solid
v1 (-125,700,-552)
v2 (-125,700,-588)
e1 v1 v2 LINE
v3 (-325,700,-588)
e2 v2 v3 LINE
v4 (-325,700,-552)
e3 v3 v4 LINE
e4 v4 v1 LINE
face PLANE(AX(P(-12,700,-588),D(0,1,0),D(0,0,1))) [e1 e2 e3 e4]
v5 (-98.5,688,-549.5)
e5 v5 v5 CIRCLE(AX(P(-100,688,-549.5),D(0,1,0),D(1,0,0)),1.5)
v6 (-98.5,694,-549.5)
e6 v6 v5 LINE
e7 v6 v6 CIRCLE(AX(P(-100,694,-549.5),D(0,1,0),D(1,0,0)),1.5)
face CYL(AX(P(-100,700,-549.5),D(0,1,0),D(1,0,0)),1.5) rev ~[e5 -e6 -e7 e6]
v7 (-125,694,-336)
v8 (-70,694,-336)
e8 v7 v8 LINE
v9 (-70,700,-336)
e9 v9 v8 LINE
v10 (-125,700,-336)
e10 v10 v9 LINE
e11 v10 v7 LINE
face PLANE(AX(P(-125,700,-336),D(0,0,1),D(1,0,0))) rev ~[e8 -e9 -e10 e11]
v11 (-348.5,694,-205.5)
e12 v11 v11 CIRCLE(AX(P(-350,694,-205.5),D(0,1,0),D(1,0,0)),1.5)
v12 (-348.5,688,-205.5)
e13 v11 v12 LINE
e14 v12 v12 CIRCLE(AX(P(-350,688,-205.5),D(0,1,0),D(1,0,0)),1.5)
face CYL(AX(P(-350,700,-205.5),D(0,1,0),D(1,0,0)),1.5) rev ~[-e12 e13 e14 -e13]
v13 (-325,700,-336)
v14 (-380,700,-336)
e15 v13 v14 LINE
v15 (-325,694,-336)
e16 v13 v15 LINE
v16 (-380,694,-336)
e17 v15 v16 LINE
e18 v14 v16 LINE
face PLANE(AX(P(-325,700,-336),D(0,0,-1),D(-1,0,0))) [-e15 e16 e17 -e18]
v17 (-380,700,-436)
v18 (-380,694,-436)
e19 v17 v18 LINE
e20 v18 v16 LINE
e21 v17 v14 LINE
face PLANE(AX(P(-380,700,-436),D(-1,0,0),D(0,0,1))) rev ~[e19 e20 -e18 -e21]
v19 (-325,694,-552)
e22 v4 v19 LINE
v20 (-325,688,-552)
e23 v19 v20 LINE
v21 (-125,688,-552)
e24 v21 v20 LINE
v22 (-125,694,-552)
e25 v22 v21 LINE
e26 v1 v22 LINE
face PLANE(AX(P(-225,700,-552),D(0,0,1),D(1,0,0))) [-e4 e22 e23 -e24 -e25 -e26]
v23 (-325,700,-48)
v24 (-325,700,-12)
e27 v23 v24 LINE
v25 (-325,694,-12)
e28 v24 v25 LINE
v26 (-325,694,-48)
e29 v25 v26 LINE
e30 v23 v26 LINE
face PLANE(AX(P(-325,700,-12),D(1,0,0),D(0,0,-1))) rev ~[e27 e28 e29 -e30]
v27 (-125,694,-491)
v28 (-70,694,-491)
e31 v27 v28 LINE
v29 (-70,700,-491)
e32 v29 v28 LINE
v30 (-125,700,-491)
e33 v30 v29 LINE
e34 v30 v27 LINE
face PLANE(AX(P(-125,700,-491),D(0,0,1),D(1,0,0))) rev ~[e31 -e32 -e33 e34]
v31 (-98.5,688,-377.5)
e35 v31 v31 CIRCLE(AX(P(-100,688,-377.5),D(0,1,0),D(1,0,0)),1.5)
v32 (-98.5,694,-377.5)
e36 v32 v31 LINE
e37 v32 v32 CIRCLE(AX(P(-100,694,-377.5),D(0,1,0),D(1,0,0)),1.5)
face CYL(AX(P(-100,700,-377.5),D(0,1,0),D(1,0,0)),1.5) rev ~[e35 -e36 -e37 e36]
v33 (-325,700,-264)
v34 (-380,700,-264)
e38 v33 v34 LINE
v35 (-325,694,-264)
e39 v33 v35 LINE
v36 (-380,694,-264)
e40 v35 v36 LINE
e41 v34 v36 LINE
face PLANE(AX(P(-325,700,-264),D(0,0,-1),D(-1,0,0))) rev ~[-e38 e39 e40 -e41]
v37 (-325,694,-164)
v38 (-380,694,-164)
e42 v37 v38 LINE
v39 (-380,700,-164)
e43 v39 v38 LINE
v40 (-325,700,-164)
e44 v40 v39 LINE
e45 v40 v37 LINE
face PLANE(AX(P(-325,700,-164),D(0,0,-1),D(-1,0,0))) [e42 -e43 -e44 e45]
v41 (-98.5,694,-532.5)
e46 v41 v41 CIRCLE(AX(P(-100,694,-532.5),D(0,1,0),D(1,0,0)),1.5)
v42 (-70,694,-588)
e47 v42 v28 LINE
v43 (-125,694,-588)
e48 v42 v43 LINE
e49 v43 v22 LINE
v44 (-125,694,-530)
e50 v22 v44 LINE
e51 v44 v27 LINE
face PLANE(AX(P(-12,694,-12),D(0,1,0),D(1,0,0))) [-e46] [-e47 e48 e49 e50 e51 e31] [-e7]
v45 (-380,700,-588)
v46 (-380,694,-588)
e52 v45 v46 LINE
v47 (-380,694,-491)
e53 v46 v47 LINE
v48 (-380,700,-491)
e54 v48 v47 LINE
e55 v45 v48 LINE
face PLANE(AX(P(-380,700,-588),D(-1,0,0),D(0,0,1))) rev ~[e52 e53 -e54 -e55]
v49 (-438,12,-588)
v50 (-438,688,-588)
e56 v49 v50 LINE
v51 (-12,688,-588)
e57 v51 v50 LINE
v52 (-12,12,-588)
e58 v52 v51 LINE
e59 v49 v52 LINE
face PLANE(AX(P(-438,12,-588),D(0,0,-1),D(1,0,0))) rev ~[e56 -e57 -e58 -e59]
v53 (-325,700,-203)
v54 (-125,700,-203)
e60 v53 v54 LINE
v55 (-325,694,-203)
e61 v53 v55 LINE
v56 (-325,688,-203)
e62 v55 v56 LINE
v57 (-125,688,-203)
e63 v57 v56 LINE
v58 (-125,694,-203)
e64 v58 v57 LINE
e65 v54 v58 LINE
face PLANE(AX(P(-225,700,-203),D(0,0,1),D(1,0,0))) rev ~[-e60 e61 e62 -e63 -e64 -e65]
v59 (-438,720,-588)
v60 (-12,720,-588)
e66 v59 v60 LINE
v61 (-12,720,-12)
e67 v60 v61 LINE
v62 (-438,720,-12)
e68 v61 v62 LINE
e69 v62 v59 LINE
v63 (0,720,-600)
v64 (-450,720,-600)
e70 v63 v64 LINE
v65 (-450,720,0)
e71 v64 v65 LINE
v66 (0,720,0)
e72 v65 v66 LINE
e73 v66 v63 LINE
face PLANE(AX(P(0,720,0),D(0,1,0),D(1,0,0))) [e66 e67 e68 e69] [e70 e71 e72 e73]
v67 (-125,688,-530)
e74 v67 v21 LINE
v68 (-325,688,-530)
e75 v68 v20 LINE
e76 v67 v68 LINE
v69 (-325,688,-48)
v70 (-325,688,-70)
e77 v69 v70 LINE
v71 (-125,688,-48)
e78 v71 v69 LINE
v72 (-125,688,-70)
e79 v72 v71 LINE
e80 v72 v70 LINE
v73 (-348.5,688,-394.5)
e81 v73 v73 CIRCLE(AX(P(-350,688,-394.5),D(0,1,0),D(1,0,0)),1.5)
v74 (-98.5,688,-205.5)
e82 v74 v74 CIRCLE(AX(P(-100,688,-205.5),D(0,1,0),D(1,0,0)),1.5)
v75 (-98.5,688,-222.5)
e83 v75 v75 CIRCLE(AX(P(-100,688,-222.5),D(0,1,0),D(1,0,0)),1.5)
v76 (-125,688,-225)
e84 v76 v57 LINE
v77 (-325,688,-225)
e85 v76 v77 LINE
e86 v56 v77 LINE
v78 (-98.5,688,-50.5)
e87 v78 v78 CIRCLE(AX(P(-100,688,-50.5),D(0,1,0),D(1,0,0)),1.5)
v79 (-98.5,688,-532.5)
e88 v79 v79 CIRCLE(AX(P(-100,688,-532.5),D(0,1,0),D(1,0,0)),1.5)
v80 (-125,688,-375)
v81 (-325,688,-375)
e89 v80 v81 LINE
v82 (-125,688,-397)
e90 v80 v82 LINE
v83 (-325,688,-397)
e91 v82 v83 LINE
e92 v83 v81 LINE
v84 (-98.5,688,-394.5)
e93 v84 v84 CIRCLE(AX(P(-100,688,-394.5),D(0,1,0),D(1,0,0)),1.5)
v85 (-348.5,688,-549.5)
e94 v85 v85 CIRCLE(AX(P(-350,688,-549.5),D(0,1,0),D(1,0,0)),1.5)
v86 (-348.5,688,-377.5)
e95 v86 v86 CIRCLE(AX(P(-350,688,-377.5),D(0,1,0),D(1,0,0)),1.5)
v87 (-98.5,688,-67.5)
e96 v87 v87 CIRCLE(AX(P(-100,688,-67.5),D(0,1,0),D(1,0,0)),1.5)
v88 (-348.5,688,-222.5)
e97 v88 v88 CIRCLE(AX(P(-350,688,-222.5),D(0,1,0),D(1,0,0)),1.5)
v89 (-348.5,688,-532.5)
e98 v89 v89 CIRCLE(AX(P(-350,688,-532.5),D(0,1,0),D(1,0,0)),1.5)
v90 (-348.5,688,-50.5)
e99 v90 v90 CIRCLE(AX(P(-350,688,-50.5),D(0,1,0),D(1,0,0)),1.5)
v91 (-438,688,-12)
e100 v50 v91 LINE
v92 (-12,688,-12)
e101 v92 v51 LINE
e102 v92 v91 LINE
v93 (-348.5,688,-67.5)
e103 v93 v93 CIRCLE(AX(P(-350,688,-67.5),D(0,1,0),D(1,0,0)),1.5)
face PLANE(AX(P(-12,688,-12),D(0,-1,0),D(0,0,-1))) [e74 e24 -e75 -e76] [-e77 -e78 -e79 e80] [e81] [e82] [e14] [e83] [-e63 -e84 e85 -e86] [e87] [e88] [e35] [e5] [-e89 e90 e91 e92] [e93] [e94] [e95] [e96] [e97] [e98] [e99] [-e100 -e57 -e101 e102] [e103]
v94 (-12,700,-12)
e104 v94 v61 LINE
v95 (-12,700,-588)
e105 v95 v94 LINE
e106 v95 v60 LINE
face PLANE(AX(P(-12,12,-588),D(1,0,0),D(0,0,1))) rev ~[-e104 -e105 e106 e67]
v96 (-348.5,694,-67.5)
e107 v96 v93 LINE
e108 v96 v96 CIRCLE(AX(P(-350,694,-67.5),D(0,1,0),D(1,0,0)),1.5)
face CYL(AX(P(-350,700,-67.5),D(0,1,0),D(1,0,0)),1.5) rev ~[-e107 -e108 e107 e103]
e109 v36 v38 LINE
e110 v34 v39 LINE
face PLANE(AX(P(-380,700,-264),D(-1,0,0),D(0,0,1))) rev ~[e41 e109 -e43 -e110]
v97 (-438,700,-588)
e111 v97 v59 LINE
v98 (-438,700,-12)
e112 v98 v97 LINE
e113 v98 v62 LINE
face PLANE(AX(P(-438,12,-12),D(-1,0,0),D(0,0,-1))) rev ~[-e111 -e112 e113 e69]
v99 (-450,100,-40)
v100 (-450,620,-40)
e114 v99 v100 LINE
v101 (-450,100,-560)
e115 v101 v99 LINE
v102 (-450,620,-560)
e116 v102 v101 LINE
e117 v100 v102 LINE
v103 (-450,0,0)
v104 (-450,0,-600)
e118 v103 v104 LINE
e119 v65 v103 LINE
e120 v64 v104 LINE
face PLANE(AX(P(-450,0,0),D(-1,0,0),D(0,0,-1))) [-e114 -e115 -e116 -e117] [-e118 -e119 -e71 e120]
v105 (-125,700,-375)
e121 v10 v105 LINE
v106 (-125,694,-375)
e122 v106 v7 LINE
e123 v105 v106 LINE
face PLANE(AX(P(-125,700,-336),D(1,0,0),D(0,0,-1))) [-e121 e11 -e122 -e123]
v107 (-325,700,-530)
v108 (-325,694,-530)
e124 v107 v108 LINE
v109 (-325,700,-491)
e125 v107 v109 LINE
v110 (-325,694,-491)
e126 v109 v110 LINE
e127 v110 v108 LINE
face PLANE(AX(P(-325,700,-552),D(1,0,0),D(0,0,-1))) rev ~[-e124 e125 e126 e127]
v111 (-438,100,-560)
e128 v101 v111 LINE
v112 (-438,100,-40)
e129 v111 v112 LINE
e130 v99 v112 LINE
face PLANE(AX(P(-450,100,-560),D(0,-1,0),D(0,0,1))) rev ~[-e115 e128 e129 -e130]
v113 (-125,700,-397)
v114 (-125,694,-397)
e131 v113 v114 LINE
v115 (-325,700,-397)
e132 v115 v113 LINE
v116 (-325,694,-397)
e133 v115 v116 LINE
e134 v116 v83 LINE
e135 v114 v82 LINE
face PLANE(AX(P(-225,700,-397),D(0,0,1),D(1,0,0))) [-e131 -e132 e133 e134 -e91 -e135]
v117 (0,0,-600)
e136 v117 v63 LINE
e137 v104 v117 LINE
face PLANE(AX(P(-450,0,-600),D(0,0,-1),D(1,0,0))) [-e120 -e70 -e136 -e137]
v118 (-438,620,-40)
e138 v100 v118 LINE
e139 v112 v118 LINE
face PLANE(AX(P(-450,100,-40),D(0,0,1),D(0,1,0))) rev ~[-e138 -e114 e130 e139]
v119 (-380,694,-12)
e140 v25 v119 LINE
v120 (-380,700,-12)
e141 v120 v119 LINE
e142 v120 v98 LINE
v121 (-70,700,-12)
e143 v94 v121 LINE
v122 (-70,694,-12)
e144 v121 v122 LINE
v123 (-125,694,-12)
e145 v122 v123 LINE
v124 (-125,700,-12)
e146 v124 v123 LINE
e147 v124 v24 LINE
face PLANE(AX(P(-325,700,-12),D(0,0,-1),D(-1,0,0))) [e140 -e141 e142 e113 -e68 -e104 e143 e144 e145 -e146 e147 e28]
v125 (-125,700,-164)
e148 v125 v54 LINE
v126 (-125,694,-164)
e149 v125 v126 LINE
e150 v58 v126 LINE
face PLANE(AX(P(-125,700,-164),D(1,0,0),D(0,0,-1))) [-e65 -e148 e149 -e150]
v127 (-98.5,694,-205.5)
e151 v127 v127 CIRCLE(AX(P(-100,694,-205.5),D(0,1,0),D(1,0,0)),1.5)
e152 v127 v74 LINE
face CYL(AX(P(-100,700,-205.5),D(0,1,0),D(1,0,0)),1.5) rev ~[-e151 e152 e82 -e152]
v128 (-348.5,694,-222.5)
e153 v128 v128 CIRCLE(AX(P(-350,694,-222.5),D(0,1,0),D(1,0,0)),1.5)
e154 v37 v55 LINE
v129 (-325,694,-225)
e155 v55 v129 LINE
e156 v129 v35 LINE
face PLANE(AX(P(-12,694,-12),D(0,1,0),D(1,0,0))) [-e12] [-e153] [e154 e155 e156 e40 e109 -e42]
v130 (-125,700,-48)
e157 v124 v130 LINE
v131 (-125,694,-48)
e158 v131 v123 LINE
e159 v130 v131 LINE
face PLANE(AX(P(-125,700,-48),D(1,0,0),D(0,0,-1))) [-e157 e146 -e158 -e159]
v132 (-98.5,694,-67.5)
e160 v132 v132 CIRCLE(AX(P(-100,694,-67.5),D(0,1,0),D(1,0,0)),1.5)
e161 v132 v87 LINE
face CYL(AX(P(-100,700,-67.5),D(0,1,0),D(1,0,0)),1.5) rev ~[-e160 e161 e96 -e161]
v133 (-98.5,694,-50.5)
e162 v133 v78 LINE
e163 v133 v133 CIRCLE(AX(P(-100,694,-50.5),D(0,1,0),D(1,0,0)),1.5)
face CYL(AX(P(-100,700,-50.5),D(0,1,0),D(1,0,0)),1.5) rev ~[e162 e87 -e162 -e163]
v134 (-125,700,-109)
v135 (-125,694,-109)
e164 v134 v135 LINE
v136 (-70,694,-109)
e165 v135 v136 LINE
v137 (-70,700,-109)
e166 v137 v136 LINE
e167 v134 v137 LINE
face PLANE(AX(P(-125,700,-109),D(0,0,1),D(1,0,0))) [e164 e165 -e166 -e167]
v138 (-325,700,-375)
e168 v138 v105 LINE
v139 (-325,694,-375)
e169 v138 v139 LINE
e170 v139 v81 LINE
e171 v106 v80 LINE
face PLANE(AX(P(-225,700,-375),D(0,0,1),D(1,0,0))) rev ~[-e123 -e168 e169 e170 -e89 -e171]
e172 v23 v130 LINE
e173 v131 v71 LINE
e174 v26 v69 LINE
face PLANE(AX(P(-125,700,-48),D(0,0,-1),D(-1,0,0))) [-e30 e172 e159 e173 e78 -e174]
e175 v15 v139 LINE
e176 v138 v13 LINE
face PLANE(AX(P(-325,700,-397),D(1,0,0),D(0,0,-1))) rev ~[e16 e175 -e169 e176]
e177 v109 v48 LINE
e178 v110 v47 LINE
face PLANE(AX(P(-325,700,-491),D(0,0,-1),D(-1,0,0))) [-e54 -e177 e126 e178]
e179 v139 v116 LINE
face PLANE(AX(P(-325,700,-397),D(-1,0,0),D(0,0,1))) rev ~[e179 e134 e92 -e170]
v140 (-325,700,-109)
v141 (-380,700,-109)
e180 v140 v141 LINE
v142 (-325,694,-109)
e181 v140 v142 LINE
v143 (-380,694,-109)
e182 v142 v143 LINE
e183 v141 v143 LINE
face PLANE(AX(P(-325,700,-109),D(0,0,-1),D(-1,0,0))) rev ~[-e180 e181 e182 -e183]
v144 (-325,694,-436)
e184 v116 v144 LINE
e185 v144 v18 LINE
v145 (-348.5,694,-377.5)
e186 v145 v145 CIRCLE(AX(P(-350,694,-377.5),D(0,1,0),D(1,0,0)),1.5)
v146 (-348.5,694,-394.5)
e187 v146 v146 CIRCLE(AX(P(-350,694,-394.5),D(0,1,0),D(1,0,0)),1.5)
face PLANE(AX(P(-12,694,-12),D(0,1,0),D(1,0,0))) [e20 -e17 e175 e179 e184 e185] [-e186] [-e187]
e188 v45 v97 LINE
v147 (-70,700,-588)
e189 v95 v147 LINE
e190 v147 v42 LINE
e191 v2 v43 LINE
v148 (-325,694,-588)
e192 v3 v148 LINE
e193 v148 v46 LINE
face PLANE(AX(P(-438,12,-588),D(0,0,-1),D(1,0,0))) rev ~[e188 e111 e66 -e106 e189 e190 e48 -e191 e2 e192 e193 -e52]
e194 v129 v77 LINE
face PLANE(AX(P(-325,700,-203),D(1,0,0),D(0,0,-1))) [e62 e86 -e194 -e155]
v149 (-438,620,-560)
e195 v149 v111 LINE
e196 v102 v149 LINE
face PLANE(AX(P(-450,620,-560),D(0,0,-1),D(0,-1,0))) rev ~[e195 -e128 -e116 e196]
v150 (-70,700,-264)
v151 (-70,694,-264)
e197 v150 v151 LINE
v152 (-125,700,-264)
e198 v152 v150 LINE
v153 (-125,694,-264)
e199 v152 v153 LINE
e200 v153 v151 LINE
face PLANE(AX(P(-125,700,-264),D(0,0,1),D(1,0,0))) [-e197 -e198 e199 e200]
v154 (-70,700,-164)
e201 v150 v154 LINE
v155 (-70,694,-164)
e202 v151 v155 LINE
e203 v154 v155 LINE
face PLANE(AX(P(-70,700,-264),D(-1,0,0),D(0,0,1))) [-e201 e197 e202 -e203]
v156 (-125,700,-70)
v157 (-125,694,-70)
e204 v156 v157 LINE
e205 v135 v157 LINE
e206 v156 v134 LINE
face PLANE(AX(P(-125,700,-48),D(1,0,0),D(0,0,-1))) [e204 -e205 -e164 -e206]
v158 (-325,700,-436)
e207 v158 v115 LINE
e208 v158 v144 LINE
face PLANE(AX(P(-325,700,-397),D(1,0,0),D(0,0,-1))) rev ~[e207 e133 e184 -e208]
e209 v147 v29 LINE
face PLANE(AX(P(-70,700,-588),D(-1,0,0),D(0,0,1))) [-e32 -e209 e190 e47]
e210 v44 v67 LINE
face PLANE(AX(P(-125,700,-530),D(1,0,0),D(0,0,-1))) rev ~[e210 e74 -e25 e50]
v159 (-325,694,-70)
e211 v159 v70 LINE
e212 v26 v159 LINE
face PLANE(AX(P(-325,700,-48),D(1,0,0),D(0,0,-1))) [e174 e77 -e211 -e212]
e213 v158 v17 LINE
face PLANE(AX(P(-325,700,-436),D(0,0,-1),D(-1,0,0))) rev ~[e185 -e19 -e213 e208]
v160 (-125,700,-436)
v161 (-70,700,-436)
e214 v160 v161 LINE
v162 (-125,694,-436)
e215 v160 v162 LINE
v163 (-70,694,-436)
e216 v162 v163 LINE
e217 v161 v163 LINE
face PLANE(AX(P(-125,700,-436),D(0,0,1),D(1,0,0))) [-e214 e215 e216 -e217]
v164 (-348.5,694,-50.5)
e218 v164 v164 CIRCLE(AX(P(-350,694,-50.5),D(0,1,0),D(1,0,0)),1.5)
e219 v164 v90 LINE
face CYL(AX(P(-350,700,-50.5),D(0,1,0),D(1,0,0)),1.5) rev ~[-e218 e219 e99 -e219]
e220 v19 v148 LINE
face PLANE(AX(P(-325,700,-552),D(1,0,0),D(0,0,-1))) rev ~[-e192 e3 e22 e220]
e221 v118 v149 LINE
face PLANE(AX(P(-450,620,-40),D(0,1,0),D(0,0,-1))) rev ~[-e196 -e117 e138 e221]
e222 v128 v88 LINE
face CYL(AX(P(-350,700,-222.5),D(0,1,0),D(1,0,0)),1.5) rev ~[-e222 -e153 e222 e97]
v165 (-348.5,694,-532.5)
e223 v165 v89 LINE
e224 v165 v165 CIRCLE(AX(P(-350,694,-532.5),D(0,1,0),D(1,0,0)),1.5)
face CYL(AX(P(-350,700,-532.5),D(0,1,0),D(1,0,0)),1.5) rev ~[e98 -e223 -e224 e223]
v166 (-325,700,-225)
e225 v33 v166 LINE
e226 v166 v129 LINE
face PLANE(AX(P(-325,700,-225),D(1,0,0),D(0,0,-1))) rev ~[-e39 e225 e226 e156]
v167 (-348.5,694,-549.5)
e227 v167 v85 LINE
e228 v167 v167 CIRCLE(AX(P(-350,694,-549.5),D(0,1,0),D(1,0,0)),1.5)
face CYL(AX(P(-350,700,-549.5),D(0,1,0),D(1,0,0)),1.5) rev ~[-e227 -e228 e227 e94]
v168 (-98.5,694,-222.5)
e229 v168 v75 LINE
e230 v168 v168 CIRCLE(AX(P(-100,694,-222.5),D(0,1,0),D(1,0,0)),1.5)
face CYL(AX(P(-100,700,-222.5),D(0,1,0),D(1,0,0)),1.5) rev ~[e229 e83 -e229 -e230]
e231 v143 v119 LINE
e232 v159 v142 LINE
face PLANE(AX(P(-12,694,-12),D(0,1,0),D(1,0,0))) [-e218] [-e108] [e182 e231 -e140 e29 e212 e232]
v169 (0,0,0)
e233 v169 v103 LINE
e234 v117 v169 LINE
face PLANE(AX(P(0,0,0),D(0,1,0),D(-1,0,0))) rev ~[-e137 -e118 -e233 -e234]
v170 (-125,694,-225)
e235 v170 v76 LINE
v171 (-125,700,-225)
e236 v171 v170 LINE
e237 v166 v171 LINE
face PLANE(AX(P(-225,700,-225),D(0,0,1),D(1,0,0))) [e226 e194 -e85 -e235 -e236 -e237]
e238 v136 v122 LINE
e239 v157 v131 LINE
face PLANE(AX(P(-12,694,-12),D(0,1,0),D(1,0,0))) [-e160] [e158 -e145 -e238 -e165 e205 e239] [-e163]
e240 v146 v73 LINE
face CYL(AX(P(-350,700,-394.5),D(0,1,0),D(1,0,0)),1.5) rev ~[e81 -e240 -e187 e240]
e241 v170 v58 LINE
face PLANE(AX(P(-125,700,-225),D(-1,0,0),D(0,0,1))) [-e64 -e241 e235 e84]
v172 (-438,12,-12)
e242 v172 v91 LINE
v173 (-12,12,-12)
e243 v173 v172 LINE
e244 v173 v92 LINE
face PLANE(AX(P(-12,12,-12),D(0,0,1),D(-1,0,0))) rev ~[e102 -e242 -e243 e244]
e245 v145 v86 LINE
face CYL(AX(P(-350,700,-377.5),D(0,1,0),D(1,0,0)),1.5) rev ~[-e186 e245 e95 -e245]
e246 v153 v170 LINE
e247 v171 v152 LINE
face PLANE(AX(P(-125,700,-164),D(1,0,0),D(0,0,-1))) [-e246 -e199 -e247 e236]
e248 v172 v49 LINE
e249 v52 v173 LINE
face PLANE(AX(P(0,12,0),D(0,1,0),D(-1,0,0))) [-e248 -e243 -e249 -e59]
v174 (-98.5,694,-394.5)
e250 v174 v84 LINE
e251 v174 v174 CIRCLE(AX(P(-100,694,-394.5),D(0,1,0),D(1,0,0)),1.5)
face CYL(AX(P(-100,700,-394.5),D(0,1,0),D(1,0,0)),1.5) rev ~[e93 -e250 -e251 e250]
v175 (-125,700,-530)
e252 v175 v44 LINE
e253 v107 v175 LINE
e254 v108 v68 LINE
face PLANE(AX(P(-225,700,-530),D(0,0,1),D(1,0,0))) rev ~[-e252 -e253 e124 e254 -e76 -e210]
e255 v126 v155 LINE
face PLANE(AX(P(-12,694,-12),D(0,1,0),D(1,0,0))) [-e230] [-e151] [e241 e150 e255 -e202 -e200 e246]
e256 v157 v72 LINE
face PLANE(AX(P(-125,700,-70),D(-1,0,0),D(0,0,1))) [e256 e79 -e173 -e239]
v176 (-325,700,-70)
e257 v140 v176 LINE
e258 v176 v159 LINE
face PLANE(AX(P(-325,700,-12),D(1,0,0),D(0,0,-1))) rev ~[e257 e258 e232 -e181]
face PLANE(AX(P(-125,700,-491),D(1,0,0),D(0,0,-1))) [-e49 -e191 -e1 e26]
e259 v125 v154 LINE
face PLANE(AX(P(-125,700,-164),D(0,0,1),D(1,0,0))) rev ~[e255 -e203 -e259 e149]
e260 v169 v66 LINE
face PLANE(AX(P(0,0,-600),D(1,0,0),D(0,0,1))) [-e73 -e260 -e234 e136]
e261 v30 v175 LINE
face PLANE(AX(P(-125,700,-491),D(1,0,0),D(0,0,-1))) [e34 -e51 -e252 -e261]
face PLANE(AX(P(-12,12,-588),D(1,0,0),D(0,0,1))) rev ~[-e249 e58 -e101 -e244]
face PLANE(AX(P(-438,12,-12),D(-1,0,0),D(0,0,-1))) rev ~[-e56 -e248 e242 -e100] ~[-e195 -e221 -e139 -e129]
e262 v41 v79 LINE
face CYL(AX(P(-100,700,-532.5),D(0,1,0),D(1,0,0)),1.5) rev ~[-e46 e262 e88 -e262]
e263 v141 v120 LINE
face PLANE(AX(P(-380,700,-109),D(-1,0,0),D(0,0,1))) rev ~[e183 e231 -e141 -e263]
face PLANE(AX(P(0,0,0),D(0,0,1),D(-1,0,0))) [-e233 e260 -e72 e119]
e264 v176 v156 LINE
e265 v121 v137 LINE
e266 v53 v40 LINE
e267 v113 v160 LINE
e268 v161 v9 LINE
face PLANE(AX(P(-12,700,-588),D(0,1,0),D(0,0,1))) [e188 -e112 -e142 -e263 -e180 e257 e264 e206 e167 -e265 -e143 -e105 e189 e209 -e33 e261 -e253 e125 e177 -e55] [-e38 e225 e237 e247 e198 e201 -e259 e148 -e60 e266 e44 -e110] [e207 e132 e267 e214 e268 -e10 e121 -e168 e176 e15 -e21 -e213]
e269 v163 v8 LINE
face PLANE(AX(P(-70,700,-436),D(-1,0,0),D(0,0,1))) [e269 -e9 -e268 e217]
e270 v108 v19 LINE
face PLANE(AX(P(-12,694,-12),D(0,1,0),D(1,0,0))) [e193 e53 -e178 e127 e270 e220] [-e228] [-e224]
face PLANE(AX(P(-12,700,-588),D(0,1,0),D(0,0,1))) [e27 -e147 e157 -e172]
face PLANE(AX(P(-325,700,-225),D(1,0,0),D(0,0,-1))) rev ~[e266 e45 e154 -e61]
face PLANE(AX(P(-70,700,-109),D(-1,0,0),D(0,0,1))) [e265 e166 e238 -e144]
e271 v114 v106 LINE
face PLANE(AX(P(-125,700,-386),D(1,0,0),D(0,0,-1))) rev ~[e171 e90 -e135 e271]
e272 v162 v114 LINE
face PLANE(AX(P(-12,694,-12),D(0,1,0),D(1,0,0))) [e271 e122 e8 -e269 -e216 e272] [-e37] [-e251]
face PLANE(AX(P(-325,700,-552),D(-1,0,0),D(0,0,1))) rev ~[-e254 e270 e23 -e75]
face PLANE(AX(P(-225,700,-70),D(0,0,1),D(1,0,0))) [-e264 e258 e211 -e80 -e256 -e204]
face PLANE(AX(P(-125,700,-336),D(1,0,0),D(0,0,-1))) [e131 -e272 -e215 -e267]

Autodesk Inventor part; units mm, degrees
ref_plane "YZ Plane" through (0, 0, 0) normal (1, 0, 0) x (0, 1, 0)
ref_plane "XZ Plane" through (0, 0, 0) normal (0, 1, 0) x (-1, 0, 0)
ref_plane "XY Plane" through (0, 0, 0) normal (0, 0, 1) x (1, 0, 0)
sketch "Sketch1" plane through (0, 0, 0) normal (0, 1, 0) x (-1, 0, 0)
  line L0 (0, 0) -> (450, 0)
  line L1 (450, 0) -> (450, -600)
  line L2 (450, -600) -> (0, -600)
  line L3 (0, -600) -> (0, 0)
  dimension "d0" = 450
  dimension "d1" = 600
extrude "Extrusion1" add sketch "Sketch1" along normal blind 12
sketch "Sketch2" plane through (0, 12, 0) normal (0, 1, 0) x (1, 0, 0)
  line L0 (0, 0) -> (0, 600) projected
  line L1 (-450, 600) -> (-450, 0) projected
  line L2 (0, 600) -> (-450, 600)
  line L3 (-450, 600) -> (-450, 0)
  line L4 (-450, 0) -> (0, 0)
  line L5 (0, 0) -> (0, 600)
  line L6 (-438, 588) -> (-12, 588)
  line L7 (-12, 588) -> (-12, 12)
  line L8 (-12, 12) -> (-438, 12)
  line L9 (-438, 12) -> (-438, 588)
  dimension "d4" = 12
extrude "Extrusion2" add sketch "Sketch2" along normal blind 708
sketch "Sketch3" plane through (-450, 0, -600) normal (-1, 0, 0) x (0, 0, 1)
  line L0 (0, 0) -> (40, 0)
  line L1 (40, 0) -> (40, 100)
  line L2 (40, 100) -> (0, 100)
  line L3 (0, 100) -> (0, 0)
  line L4 (600, 0) -> (560, 0)
  line L5 (560, 0) -> (560, 100)
  line L6 (560, 100) -> (600, 100)
  line L7 (600, 100) -> (600, 0)
  line L8 (600, 720) -> (560, 720)
  line L9 (560, 720) -> (560, 620)
  line L10 (560, 620) -> (600, 620)
  line L11 (600, 620) -> (600, 720)
  line L12 (40, 100) -> (560, 100)
  line L13 (560, 100) -> (560, 620)
  line L14 (560, 620) -> (40, 620)
  line L15 (40, 620) -> (40, 100)
  dimension "d7" = 40
  dimension "d8" = 100
  dimension "d9" = 40
  dimension "d10" = 100
  dimension "d11" = 40
  dimension "d12" = 100
extrude "Extrusion3" cut sketch "Sketch3" against normal blind 12 contours L15 L14 L13 L12
sketch "Sketch4" plane through (-12, 12, -588) normal (-1, 0, 0) x (0, 0, 1)
  point P0 (588, -12)
sketch "Sketch5" plane through (-12, 12, -588) normal (-1, 0, 0) x (0, 0, 1)
  line L0 (0, 0) -> (0, 708) projected
  line L1 (0, 708) -> (0, 688)
  line L2 (576, 0) -> (576, 708) projected
  line L3 (0, 688) -> (576, 688)
  line L4 (576, 688) -> (576, 676)
  line L5 (576, 676) -> (0, 676)
  line L6 (0, 676) -> (0, 688)
  point P0 (588, -12)
  dimension "d15" = 20
  dimension "d16" = 12
extrude "Extrusion4" add sketch "Sketch5" along normal up to surface (438 mm away)
sketch "Sketch6" plane through (-12, 700, -12) normal (0, 1, 0) x (1, 0, 0)
  line L0 (-426, 576) -> (0, 576) projected
  line L1 (-213, 576) -> (-213, 0)
  line L2 (0, 0) -> (-426, 0) projected
  line L3 (-213, 576) -> (-213, 504)
  line L4 (-213, 504) -> (-213, 515)
  line L5 (-213, 515) -> (-113, 515)
  line L6 (-213, 540) -> (-113, 540)
  line L7 (-113, 540) -> (-313, 540)
  line L8 (-313, 540) -> (-313, 518)
  line L9 (-313, 518) -> (-113, 518)
  line L10 (-113, 518) -> (-113, 540)
  line L11 (-213, 529) -> (-338, 529)
  line L12 (-338, 529) -> (-338, 537.5)
  circle A0 centre (-338, 537.5) radius 1.5
  line L13 (-338, 537.5) -> (-338, 520.5)
  circle A1 centre (-338, 520.5) radius 1.5
  circle A2 centre (-88, 537.5) radius 1.5
  circle A3 centre (-88, 520.5) radius 1.5
  line L14 (-213, 518) -> (-213, 374)
  line L15 (-213, 374) -> (-213, 385)
  line L16 (-213, 385) -> (-113, 385)
  line L17 (-113, 385) -> (-313, 385)
  line L18 (-313, 385) -> (-313, 363)
  line L19 (-313, 363) -> (-113, 363)
  line L20 (-113, 363) -> (-113, 385)
  line L21 (-88, 537.5) -> (-88, 520.5)
  line L22 (-113, 374) -> (-88, 374)
  line L23 (-88, 374) -> (-88, 382.5)
  line L24 (-88, 382.5) -> (-88, 365.5)
  circle A4 centre (-88, 382.5) radius 1.5
  circle A5 centre (-88, 365.5) radius 1.5
  circle A6 centre (-338, 382.5) radius 1.5
  circle A7 centre (-338, 365.5) radius 1.5
  line L25 (-213, 288) -> (-149.1067, 288)
  line L26 (-113, 36) -> (-313, 36)
  line L27 (-313, 36) -> (-313, 58)
  line L28 (-313, 58) -> (-113, 58)
  line L29 (-113, 58) -> (-113, 36)
  circle A8 centre (-338, 38.5) radius 1.5
  circle A9 centre (-338, 55.5) radius 1.5
  circle A10 centre (-88, 38.5) radius 1.5
  circle A11 centre (-88, 55.5) radius 1.5
  line L30 (-213, 191) -> (-113, 191)
  line L31 (-113, 191) -> (-313, 191)
  line L32 (-313, 191) -> (-313, 213)
  line L33 (-313, 213) -> (-113, 213)
  line L34 (-113, 213) -> (-113, 191)
  circle A12 centre (-88, 193.5) radius 1.5
  circle A13 centre (-88, 210.5) radius 1.5
  circle A14 centre (-338, 193.5) radius 1.5
  circle A15 centre (-338, 210.5) radius 1.5
  point P0 (12, -12)
  point P1 (-113, 202)
  dimension "d19" = 72
  dimension "d20" = 11
  dimension "d21" = 100
  dimension "d22" = 200
  dimension "d23" = 22
  dimension "d24" = 125
  dimension "d25" = 8.5
  dimension "d26" = 3
  dimension "d27" = 17
  dimension "d28" = 3
  dimension "d29" = 144
  dimension "d30" = 11
  dimension "d31" = 100
  dimension "d32" = 22
  dimension "d33" = 25
  dimension "d34" = 8.5
  dimension "d35" = 17
extrude "Extrusion5" cut sketch "Sketch6" against normal blind 12
sketch "Sketch7" plane through (-12, 700, -12) normal (0, 1, 0) x (1, 0, 0)
  point P0 (12, -12)
sketch "Sketch8" plane through (-12, 700, -12) normal (0, 1, 0) x (1, 0, 0)
  line L0 (-313, 36) -> (-113, 36) projected
  line L1 (0, 0) -> (-426, 0) projected
  line L2 (-113, 36) -> (-58, 36)
  line L3 (-58, 36) -> (-58, 0)
  line L4 (-58, 0) -> (-113, 0)
  line L5 (-113, 0) -> (-113, 36)
  line L6 (0, 576) -> (-426, 576) projected
  line L7 (-58, 0) -> (-113, 0)
  line L8 (-113, 0) -> (-113, 576)
  line L9 (-113, 576) -> (-58, 576)
  line L10 (-58, 576) -> (-58, 0)
  line L11 (-213, 576) -> (-213, 492.9695)
  line L12 (-426, 0) -> (0, 0)
  line L13 (-368, 0) -> (-313, 0)
  line L14 (-426, 576) -> (0, 576)
  line L15 (-313, 0) -> (-313, 576)
  line L16 (-313, 576) -> (-368, 576)
  line L17 (-368, 576) -> (-368, 0)
  line L18 (-313, 518) -> (-113, 518) projected
  line L19 (-313, 540) -> (-113, 540) projected
  line L20 (-313, 518) -> (-313, 540)
  line L21 (-113, 213) -> (-313, 213) projected
  line L22 (-313, 191) -> (-113, 191) projected
  line L23 (-313, 213) -> (-313, 191)
  line L24 (-313, 202) -> (-313, 152)
  line L25 (-313, 152) -> (-313, 252)
  line L26 (-313, 252) -> (-368, 252)
  line L27 (-313, 152) -> (-368, 152)
  line L28 (-113, 385) -> (-313, 385) projected
  line L29 (-313, 191) -> (-313, 385)
  line L30 (-313, 288) -> (-113, 288)
  line L31 (-313, 324) -> (-368, 324)
  line L32 (-313, 424) -> (-368, 424)
  line L33 (-113, 252) -> (-58, 252)
  line L34 (-113, 152) -> (-58, 152)
  line L35 (-113, 424) -> (-58, 424)
  line L36 (-113, 324) -> (-58, 324)
  line L37 (-113, 58) -> (-313, 58) projected
  line L38 (-313, 58) -> (-313, 36)
  line L39 (-313, 47) -> (-313, 97)
  line L40 (-313, 97) -> (-368, 97)
  line L41 (-313, 479) -> (-368, 479)
  line L42 (-113, 97) -> (-58, 97)
  line L43 (-113, 479) -> (-58, 479)
  point P0 (12, -12)
  dimension "d38" = 55
  dimension "d39" = 50
  dimension "d40" = 100
  dimension "d41" = 50
extrude "Extrusion6" cut sketch "Sketch8" against normal blind 6 contours L15 L1 L17 L40 | L8 L42 L10 L2 | L2 L3 L1 L5 | L34 L8 L33 L10 | L17 L26 L15 L27 | L36 L8 L35 L10 | L17 L32 L15 L31 | L43 L8 L6 L10 | L17 L6 L15 L41
properties part number "box"
